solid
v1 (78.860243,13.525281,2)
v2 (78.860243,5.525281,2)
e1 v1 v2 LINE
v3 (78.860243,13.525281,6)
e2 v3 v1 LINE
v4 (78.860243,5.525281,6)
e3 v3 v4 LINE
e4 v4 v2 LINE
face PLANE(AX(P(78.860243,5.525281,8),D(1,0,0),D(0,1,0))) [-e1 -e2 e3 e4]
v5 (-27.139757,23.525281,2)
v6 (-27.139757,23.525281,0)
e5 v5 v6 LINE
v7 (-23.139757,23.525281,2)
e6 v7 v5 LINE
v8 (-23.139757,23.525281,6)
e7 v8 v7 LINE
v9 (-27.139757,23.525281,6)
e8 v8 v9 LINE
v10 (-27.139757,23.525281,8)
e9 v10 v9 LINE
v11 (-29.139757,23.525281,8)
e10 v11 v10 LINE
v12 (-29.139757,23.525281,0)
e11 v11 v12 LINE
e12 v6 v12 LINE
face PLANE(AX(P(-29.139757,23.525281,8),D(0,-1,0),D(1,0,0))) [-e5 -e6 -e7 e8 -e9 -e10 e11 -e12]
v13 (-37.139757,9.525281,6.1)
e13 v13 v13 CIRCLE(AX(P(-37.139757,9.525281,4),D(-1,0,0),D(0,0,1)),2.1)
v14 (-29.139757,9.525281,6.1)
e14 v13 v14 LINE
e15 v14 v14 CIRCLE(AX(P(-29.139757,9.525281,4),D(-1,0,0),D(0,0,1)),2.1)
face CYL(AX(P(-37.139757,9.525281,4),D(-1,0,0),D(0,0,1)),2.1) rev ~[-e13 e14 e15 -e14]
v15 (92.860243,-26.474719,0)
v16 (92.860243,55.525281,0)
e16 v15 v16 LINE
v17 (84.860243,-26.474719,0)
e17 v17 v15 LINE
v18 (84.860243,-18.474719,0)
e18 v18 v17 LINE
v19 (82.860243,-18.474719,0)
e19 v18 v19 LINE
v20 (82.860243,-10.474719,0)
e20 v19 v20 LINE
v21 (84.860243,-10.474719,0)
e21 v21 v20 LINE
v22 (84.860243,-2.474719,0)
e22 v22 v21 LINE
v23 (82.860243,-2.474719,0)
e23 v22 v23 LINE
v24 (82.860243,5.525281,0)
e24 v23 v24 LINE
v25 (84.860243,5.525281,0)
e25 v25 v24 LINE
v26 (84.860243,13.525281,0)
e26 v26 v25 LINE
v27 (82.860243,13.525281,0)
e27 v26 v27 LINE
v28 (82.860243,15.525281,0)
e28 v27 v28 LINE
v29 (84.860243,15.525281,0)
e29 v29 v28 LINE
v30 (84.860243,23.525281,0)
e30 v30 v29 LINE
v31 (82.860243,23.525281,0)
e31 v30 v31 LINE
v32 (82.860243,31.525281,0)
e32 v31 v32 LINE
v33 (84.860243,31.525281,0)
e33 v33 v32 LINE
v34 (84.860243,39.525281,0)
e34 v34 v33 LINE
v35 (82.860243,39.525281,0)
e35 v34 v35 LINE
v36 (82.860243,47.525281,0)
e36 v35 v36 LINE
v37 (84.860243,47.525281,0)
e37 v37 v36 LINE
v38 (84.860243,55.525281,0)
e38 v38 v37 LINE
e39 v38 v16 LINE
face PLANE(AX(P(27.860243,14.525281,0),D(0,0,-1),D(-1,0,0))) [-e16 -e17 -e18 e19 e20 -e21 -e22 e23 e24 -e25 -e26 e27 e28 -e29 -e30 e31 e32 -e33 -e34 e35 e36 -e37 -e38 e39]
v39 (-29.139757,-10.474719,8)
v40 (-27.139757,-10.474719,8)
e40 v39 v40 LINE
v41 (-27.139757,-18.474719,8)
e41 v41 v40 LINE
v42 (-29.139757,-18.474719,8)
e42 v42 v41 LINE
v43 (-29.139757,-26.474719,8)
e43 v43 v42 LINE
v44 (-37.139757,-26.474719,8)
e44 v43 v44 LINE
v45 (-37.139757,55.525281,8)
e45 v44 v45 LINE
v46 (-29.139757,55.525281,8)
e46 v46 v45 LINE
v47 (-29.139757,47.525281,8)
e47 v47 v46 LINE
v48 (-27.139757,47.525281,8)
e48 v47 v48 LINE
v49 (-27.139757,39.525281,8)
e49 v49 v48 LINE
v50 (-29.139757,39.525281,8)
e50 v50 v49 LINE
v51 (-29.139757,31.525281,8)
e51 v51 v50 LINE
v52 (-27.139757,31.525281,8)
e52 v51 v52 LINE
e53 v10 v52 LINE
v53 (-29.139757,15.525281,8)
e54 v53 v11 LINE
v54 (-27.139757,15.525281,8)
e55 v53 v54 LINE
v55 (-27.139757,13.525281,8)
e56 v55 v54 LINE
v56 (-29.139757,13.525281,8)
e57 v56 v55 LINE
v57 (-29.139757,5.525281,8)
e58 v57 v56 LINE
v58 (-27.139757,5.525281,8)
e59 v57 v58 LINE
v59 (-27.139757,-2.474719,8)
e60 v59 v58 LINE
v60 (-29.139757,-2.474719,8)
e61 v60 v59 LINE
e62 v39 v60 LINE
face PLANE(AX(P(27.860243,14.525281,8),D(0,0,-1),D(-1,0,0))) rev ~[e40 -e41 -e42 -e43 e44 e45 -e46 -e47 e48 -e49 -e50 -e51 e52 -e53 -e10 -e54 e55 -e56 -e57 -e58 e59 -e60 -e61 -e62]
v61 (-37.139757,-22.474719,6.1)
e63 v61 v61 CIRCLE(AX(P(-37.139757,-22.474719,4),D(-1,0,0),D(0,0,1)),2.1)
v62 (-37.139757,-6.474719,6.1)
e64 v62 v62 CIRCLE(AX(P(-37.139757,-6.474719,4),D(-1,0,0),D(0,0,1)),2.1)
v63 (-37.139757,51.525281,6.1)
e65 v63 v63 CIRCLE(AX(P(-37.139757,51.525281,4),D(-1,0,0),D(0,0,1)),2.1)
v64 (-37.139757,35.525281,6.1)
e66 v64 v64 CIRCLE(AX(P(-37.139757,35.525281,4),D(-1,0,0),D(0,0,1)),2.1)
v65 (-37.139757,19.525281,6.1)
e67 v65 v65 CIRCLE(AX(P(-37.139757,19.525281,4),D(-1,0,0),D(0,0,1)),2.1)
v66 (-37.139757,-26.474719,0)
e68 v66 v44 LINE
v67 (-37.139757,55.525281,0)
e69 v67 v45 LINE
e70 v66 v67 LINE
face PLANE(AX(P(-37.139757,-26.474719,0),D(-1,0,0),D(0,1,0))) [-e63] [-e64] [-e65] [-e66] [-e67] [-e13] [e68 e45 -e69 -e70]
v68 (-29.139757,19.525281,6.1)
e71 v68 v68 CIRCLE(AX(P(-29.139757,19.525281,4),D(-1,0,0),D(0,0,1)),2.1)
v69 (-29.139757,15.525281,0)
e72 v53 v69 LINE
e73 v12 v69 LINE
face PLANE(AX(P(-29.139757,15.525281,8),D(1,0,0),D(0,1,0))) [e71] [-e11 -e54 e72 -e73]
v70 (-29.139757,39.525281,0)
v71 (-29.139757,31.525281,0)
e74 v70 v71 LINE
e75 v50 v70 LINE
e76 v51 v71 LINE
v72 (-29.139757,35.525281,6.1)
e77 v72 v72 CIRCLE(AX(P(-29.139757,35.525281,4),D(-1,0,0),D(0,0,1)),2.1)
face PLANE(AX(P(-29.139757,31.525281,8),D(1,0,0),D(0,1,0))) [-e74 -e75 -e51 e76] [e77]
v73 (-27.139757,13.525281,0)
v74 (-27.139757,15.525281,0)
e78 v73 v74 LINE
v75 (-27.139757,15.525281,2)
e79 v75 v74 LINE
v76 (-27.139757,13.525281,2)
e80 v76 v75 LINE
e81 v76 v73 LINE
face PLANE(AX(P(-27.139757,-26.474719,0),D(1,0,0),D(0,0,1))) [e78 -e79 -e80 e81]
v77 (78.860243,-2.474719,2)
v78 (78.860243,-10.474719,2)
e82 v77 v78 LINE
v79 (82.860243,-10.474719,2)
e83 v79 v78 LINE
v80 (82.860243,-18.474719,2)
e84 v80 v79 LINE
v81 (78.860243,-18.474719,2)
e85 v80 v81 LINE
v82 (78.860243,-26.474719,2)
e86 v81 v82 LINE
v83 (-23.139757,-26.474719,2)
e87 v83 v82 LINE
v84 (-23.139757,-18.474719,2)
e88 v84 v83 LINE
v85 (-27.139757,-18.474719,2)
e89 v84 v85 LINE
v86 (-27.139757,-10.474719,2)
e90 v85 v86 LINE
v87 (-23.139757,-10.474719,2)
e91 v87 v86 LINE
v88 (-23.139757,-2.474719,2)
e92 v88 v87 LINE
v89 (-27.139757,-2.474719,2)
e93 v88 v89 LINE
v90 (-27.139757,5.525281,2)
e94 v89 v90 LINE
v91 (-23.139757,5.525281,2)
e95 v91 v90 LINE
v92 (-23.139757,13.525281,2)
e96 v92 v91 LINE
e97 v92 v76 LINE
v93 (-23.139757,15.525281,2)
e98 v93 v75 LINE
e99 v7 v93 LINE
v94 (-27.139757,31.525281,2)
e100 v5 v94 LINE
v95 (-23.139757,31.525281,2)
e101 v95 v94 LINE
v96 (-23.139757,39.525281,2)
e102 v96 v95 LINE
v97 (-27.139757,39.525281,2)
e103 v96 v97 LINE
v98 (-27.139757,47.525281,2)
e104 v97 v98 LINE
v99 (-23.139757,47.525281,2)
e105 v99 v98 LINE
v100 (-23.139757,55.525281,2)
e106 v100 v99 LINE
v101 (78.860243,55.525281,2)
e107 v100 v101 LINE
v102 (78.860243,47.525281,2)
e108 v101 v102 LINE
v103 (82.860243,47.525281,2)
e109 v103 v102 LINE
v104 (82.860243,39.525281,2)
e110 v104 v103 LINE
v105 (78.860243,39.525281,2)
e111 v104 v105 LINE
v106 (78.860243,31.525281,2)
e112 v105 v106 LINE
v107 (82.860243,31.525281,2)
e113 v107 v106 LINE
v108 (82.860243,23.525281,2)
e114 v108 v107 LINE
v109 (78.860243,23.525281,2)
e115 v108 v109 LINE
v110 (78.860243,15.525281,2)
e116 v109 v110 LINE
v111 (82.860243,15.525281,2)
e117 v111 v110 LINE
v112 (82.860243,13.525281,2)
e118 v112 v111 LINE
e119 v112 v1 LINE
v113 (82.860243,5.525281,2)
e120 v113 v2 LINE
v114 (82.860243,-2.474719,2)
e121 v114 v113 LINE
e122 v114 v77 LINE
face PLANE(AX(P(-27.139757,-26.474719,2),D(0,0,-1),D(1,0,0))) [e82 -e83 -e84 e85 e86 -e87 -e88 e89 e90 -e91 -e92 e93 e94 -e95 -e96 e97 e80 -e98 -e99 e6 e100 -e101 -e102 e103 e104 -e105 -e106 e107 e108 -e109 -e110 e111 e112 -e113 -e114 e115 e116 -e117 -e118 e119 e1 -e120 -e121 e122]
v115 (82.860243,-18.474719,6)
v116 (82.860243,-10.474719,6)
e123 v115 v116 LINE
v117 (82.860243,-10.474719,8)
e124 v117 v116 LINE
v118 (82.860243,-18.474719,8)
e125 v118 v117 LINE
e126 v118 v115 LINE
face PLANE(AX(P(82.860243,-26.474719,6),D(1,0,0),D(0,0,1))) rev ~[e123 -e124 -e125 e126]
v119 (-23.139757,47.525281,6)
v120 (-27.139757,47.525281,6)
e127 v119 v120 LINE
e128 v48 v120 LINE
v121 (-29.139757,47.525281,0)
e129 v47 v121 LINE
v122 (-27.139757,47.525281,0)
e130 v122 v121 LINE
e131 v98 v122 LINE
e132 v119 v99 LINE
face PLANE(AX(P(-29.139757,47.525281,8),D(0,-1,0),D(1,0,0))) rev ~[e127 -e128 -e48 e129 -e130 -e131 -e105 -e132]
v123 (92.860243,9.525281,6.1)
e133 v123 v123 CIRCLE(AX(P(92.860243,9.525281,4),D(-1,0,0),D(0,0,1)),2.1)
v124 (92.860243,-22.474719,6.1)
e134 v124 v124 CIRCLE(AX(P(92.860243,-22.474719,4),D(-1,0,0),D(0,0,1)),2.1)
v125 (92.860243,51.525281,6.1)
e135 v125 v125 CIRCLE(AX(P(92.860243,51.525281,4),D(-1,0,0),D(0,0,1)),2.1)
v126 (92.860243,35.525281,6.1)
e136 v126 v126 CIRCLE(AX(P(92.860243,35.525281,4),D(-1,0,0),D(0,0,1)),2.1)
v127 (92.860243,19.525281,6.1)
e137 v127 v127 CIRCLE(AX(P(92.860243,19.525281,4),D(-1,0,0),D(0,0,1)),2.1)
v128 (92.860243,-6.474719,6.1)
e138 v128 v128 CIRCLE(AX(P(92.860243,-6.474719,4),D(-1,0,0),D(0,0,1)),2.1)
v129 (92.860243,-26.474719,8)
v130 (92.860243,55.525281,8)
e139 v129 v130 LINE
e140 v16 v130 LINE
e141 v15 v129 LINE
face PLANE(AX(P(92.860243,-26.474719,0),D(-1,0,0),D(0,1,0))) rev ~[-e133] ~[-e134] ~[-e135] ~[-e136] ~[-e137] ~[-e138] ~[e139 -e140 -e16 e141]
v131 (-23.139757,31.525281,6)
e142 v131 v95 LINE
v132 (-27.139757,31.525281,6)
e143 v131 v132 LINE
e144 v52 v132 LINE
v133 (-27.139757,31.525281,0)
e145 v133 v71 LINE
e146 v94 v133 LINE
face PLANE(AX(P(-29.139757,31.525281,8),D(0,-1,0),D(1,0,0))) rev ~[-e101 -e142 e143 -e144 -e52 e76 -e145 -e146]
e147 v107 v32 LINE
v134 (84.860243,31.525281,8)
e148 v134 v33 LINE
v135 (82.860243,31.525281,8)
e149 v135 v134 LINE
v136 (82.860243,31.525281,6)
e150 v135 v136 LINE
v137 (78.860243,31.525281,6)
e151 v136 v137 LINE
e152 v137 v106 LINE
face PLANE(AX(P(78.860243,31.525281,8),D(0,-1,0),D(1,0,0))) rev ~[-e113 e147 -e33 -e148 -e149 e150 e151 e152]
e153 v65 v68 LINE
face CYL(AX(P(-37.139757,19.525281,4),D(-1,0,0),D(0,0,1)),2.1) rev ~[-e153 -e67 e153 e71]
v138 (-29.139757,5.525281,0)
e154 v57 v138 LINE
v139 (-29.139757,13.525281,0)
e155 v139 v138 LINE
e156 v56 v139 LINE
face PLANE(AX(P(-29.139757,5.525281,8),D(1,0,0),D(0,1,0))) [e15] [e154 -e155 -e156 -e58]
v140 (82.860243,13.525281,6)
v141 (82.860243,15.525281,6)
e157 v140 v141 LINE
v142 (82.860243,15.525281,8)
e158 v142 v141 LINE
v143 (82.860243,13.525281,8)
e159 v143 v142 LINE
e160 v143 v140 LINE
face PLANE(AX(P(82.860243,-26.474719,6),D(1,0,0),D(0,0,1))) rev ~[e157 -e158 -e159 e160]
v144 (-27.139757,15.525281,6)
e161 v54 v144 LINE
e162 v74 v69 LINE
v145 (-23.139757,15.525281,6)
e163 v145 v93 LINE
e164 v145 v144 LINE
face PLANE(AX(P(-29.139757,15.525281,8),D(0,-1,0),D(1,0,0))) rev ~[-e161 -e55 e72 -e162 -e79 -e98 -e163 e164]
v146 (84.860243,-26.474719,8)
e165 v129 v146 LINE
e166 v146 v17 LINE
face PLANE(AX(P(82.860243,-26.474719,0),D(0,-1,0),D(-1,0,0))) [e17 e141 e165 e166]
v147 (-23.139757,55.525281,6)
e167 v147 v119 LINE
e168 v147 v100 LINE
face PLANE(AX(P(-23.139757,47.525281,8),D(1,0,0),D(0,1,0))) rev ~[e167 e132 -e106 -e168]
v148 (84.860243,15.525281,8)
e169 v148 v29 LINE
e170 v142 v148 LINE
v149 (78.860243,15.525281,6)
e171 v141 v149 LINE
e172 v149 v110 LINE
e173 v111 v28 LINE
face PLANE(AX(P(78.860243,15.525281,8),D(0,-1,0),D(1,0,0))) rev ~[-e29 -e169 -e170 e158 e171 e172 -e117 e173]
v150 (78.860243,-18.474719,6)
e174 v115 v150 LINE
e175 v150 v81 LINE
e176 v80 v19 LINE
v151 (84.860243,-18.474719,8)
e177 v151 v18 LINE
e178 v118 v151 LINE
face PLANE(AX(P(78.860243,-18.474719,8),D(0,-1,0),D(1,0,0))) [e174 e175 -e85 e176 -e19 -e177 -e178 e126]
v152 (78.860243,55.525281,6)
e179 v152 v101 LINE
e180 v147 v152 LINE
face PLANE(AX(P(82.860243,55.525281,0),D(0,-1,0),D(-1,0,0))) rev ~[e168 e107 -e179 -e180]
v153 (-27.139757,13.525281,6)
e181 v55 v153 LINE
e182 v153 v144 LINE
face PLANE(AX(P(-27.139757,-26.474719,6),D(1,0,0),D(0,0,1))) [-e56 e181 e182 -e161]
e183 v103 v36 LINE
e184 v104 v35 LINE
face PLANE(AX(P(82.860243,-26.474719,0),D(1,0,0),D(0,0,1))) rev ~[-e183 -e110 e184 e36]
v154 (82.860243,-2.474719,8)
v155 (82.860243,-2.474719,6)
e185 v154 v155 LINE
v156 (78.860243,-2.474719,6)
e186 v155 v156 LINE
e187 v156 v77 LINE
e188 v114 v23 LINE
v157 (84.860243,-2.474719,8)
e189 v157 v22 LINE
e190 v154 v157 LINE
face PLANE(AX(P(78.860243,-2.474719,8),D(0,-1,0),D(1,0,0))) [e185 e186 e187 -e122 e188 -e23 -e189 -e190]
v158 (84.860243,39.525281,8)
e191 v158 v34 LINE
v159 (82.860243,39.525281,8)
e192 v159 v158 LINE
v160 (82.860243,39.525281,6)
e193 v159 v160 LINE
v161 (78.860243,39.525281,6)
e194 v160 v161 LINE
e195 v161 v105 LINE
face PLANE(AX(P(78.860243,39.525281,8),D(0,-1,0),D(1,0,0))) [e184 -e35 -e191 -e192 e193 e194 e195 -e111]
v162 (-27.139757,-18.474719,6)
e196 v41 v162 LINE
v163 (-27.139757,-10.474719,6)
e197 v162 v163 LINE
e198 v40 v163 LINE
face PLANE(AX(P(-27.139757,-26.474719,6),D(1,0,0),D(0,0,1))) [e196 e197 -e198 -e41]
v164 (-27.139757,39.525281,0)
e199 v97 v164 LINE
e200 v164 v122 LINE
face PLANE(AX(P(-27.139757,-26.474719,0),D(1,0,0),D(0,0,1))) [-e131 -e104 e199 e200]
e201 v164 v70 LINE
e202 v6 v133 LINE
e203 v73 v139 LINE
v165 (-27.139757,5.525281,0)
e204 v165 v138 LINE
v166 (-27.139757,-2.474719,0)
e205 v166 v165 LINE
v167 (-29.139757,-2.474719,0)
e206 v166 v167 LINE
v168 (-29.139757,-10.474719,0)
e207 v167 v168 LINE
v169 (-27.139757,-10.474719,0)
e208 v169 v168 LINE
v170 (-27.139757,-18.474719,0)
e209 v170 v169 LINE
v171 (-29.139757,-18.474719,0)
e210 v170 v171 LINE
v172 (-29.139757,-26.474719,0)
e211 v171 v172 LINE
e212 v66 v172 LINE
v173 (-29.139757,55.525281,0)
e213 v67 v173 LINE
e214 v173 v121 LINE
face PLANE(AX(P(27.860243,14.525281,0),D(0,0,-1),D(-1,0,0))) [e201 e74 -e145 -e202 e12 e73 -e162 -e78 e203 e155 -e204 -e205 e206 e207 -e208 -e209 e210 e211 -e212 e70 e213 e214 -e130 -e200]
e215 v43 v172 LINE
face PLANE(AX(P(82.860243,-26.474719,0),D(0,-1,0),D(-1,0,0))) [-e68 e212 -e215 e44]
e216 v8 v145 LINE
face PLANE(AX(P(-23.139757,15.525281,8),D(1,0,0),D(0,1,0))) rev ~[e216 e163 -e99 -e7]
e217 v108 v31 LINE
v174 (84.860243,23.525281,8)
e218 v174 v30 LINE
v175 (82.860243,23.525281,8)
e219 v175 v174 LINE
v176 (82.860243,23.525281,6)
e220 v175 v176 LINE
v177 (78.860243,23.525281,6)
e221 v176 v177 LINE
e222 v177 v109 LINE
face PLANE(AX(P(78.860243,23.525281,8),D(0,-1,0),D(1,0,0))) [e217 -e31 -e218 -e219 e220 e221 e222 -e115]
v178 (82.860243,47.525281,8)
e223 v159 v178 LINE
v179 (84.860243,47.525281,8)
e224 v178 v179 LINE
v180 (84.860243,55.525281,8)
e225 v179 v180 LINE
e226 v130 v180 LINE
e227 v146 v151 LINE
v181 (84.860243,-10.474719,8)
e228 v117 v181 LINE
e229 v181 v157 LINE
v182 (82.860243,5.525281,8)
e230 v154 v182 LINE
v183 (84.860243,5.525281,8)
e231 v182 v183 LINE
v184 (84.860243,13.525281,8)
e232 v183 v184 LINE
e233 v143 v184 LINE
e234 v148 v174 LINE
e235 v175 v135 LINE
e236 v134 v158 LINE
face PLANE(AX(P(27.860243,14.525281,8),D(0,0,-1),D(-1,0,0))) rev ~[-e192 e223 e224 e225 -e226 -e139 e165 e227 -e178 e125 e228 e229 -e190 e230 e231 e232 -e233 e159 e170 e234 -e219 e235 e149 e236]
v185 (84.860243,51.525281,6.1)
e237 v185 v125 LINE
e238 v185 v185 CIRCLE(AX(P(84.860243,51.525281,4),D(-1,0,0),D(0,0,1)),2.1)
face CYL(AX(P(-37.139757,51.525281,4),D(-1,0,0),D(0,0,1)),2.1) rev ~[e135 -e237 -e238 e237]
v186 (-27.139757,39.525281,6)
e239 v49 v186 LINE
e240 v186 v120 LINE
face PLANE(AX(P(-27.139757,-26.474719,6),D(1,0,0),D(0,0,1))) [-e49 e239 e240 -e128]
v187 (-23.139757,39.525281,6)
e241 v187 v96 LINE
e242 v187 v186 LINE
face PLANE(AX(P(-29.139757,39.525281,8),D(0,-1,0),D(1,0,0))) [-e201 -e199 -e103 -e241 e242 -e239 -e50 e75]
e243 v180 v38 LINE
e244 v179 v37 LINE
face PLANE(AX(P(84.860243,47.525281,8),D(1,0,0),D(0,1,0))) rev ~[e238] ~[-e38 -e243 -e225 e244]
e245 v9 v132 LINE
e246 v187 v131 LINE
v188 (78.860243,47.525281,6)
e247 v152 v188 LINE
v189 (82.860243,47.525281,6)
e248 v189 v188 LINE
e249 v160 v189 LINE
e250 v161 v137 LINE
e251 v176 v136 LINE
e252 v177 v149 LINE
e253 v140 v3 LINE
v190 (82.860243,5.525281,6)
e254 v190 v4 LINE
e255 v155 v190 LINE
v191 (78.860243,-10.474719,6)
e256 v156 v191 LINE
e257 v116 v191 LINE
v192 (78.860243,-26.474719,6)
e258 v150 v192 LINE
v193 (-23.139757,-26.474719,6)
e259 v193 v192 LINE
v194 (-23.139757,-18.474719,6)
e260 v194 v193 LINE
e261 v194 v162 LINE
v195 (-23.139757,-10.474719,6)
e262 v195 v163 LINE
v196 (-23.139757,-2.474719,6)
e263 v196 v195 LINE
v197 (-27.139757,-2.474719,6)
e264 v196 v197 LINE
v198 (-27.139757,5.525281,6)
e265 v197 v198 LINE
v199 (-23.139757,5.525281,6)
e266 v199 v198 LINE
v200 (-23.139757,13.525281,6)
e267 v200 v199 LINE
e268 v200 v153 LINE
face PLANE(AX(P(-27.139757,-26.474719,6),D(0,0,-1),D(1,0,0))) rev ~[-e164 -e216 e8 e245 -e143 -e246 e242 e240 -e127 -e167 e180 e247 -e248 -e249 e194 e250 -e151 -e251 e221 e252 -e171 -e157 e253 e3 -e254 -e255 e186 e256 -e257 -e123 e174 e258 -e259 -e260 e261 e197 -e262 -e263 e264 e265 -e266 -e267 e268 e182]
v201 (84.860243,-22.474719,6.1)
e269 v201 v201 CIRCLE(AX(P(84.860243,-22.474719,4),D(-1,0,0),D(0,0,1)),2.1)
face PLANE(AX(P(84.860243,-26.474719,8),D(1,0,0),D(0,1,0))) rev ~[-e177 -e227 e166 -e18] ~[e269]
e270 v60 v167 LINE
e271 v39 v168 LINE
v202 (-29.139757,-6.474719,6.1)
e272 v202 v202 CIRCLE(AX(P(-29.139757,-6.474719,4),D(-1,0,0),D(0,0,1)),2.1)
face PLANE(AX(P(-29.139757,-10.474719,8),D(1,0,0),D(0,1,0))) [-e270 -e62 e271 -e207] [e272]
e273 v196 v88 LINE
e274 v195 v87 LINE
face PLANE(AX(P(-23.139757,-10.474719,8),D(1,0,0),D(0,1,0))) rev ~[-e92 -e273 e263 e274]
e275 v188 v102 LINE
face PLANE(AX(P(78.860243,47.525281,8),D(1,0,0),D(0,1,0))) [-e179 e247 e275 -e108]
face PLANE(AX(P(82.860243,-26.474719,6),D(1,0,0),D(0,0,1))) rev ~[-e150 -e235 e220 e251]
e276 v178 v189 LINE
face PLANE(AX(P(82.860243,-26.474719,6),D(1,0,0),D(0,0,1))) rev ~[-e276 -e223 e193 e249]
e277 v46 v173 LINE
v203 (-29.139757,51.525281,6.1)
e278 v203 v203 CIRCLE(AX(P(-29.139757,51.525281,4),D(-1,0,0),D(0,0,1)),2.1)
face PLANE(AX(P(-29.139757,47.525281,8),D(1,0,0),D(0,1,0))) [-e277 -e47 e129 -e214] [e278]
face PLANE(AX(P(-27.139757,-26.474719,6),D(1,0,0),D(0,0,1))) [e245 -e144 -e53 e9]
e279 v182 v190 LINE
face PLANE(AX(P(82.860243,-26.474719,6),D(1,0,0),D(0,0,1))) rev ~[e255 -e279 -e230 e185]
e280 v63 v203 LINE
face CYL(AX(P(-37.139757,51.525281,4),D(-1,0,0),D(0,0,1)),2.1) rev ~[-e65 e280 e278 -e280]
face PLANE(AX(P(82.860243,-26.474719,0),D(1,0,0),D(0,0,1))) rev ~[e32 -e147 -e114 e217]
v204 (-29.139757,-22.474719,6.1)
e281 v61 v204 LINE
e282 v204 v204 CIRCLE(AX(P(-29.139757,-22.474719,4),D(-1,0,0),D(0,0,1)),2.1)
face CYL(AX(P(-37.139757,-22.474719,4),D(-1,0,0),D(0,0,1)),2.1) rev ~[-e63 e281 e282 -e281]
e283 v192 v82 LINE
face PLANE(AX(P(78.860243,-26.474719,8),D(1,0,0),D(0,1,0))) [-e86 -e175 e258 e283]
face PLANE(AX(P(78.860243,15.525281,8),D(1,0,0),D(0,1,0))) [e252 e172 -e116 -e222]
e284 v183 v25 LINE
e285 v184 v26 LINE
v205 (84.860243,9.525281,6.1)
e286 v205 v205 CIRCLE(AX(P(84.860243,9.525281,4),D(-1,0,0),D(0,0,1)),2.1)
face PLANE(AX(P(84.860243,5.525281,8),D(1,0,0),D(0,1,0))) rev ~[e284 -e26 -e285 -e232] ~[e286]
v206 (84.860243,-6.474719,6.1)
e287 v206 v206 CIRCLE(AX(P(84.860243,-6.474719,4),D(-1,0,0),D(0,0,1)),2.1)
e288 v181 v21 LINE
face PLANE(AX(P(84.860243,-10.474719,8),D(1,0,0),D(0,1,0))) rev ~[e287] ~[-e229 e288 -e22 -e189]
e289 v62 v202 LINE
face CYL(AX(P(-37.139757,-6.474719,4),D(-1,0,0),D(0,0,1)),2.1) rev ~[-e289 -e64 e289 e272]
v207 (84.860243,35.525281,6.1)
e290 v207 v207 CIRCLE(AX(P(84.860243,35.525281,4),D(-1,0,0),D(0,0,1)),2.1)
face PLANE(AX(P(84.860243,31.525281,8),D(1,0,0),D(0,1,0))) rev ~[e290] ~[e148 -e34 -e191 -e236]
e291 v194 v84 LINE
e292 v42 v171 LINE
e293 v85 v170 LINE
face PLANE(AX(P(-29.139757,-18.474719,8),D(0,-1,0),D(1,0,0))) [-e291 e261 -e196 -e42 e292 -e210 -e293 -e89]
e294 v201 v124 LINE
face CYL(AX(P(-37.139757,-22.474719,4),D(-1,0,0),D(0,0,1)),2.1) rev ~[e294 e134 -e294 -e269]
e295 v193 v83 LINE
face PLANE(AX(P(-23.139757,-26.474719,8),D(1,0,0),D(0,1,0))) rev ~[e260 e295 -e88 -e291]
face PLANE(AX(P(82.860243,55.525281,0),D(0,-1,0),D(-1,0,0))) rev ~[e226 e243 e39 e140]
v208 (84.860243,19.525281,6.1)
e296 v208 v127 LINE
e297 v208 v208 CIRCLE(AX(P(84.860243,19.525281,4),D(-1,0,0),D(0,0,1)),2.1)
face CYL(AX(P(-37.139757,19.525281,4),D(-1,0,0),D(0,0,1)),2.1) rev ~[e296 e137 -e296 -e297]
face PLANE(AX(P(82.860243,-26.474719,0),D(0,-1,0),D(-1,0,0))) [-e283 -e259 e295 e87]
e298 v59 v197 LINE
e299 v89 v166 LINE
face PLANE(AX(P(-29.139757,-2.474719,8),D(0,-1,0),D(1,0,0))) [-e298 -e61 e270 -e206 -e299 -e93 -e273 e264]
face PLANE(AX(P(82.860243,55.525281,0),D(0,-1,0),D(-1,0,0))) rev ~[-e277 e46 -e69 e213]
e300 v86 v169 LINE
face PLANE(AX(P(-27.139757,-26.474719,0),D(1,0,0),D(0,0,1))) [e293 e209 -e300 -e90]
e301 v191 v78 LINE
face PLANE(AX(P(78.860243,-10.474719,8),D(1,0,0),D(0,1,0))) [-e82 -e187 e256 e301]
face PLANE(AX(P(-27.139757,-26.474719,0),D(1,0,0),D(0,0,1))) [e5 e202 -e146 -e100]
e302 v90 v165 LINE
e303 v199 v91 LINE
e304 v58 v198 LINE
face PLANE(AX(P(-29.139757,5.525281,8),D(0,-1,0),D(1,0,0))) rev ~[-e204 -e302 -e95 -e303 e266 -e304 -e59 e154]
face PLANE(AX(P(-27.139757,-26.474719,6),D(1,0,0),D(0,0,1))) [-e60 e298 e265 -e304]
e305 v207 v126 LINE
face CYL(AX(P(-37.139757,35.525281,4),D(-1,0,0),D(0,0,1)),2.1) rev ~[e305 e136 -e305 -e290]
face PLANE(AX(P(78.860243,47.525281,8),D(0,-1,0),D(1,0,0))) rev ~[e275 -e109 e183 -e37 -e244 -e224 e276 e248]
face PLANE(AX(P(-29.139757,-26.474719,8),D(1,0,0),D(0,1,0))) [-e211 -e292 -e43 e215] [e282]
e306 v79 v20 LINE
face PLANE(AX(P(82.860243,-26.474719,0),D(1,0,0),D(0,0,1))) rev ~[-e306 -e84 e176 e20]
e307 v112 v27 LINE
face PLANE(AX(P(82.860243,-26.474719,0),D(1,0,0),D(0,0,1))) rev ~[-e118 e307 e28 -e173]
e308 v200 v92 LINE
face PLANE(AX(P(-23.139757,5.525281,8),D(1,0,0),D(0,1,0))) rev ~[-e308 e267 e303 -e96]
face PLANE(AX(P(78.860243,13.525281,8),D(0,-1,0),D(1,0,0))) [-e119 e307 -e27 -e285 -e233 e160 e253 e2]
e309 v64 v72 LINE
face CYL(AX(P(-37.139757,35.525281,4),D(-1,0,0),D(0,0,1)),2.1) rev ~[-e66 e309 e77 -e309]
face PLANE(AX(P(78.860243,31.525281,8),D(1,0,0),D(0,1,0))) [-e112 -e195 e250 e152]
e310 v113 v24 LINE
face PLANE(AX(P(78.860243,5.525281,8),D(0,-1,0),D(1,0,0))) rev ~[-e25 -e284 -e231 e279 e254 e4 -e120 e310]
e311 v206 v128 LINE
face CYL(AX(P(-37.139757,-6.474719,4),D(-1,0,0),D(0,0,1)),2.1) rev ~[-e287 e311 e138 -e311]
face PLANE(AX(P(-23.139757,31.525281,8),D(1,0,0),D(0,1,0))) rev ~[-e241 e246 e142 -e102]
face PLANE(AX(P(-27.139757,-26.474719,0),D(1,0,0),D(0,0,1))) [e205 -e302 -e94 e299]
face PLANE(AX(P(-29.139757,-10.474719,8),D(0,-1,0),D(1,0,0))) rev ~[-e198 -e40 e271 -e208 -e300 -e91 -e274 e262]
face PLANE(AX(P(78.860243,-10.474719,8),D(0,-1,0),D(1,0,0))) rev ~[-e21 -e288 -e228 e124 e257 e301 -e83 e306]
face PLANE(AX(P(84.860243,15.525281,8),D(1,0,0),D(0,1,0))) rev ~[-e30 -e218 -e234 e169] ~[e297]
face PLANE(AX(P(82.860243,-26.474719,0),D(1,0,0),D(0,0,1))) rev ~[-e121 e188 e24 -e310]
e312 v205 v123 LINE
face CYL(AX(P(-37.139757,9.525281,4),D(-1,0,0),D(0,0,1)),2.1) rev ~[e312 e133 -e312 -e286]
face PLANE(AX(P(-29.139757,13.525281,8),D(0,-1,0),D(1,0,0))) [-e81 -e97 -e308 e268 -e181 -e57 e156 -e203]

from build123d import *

# Parameters (mm, degrees)
SKETCH_1_W          = 130
SKETCH_1_H          = 82
EXTRUDE_1_DEPTH     = 8
SKETCH_2_R          = 2.1
CUT_EXTRUDE_1_DEPTH = 142.58762947
SKETCH_3_W          = 110
SKETCH_3_H          = 82
EXTRUDE_2_DEPTH     = 8
SKETCH_4_W          = 110
SKETCH_4_H          = 2
CUT_EXTRUDE_2_DEPTH = 125.141148579
SKETCH_7_W          = 6
SKETCH_7_H          = 8
CUT_EXTRUDE_3_DEPTH = 10


with BuildPart() as part:
    # 草圖1 → 填料-伸長1 (new body)
    with BuildSketch(Plane.XY):
        with Locations((27.860243218, 14.525280899)):
            Rectangle(SKETCH_1_W, SKETCH_1_H)
    extrude(amount=EXTRUDE_1_DEPTH)

    # 草圖2 → 除料-伸長1 (cut, through all)
    with BuildSketch(Plane.ZY.offset(37.139756782)):
        with Locations((4, -22.474719101)):
            Circle(SKETCH_2_R)
        with Locations((4, -6.474719101)):
            Circle(SKETCH_2_R)
        with Locations((4, 9.525280899)):
            Circle(SKETCH_2_R)
        with Locations((4, 19.525280899)):
            Circle(SKETCH_2_R)
        with Locations((4, 35.525280899)):
            Circle(SKETCH_2_R)
        with Locations((4, 51.525280899)):
            Circle(SKETCH_2_R)
    extrude(amount=-CUT_EXTRUDE_1_DEPTH, mode=Mode.SUBTRACT)

    # 草圖3 → 填料-伸長2 (add)
    with BuildSketch(Plane(origin=(0, 0, 0), x_dir=(-1, 0, 0), z_dir=(0, 0, -1))):
        with Locations((-27.860243218, 14.525280899)):
            Rectangle(SKETCH_3_W, SKETCH_3_H)
    extrude(amount=-EXTRUDE_2_DEPTH)

    # 草圖4 → 除料-伸長2 (cut, through all)
    with BuildSketch(Plane.XZ.offset(26.474719101)):
        with Locations((27.860243218, 7)):
            Rectangle(SKETCH_4_W, SKETCH_4_H)
        with Locations((27.860243218, 1)):
            Rectangle(SKETCH_4_W, SKETCH_4_H)
    extrude(amount=-CUT_EXTRUDE_2_DEPTH, mode=Mode.SUBTRACT)

    # 草圖7 → 除料-伸長3 (cut)
    with BuildSketch(Plane.XY.offset(8)):
        with Locations((-26.139756782, 51.525280899)):
            Rectangle(SKETCH_7_W, SKETCH_7_H)
        with Locations((81.860243218, 51.525280899)):
            Rectangle(SKETCH_7_W, SKETCH_7_H)
        with Locations((-26.139756782, 35.525280899)):
            Rectangle(SKETCH_7_W, SKETCH_7_H)
        with Locations((81.860243218, 35.525280899)):
            Rectangle(SKETCH_7_W, SKETCH_7_H)
        with Locations((-26.139756782, 19.525280899)):
            Rectangle(SKETCH_7_W, SKETCH_7_H)
        with Locations((81.860243218, 19.525280899)):
            Rectangle(SKETCH_7_W, SKETCH_7_H)
        with Locations((-26.139756782, 9.525280899)):
            Rectangle(SKETCH_7_W, SKETCH_7_H)
        with Locations((81.860243218, 9.525280899)):
            Rectangle(SKETCH_7_W, SKETCH_7_H)
        with Locations((-26.139756782, -6.474719101)):
            Rectangle(SKETCH_7_W, SKETCH_7_H)
        with Locations((81.860243218, -6.474719101)):
            Rectangle(SKETCH_7_W, SKETCH_7_H)
        with Locations((-26.139756782, -22.474719101)):
            Rectangle(SKETCH_7_W, SKETCH_7_H)
        with Locations((81.860243218, -22.474719101)):
            Rectangle(SKETCH_7_W, SKETCH_7_H)
    extrude(amount=-CUT_EXTRUDE_3_DEPTH, mode=Mode.SUBTRACT)


solid = part.part
